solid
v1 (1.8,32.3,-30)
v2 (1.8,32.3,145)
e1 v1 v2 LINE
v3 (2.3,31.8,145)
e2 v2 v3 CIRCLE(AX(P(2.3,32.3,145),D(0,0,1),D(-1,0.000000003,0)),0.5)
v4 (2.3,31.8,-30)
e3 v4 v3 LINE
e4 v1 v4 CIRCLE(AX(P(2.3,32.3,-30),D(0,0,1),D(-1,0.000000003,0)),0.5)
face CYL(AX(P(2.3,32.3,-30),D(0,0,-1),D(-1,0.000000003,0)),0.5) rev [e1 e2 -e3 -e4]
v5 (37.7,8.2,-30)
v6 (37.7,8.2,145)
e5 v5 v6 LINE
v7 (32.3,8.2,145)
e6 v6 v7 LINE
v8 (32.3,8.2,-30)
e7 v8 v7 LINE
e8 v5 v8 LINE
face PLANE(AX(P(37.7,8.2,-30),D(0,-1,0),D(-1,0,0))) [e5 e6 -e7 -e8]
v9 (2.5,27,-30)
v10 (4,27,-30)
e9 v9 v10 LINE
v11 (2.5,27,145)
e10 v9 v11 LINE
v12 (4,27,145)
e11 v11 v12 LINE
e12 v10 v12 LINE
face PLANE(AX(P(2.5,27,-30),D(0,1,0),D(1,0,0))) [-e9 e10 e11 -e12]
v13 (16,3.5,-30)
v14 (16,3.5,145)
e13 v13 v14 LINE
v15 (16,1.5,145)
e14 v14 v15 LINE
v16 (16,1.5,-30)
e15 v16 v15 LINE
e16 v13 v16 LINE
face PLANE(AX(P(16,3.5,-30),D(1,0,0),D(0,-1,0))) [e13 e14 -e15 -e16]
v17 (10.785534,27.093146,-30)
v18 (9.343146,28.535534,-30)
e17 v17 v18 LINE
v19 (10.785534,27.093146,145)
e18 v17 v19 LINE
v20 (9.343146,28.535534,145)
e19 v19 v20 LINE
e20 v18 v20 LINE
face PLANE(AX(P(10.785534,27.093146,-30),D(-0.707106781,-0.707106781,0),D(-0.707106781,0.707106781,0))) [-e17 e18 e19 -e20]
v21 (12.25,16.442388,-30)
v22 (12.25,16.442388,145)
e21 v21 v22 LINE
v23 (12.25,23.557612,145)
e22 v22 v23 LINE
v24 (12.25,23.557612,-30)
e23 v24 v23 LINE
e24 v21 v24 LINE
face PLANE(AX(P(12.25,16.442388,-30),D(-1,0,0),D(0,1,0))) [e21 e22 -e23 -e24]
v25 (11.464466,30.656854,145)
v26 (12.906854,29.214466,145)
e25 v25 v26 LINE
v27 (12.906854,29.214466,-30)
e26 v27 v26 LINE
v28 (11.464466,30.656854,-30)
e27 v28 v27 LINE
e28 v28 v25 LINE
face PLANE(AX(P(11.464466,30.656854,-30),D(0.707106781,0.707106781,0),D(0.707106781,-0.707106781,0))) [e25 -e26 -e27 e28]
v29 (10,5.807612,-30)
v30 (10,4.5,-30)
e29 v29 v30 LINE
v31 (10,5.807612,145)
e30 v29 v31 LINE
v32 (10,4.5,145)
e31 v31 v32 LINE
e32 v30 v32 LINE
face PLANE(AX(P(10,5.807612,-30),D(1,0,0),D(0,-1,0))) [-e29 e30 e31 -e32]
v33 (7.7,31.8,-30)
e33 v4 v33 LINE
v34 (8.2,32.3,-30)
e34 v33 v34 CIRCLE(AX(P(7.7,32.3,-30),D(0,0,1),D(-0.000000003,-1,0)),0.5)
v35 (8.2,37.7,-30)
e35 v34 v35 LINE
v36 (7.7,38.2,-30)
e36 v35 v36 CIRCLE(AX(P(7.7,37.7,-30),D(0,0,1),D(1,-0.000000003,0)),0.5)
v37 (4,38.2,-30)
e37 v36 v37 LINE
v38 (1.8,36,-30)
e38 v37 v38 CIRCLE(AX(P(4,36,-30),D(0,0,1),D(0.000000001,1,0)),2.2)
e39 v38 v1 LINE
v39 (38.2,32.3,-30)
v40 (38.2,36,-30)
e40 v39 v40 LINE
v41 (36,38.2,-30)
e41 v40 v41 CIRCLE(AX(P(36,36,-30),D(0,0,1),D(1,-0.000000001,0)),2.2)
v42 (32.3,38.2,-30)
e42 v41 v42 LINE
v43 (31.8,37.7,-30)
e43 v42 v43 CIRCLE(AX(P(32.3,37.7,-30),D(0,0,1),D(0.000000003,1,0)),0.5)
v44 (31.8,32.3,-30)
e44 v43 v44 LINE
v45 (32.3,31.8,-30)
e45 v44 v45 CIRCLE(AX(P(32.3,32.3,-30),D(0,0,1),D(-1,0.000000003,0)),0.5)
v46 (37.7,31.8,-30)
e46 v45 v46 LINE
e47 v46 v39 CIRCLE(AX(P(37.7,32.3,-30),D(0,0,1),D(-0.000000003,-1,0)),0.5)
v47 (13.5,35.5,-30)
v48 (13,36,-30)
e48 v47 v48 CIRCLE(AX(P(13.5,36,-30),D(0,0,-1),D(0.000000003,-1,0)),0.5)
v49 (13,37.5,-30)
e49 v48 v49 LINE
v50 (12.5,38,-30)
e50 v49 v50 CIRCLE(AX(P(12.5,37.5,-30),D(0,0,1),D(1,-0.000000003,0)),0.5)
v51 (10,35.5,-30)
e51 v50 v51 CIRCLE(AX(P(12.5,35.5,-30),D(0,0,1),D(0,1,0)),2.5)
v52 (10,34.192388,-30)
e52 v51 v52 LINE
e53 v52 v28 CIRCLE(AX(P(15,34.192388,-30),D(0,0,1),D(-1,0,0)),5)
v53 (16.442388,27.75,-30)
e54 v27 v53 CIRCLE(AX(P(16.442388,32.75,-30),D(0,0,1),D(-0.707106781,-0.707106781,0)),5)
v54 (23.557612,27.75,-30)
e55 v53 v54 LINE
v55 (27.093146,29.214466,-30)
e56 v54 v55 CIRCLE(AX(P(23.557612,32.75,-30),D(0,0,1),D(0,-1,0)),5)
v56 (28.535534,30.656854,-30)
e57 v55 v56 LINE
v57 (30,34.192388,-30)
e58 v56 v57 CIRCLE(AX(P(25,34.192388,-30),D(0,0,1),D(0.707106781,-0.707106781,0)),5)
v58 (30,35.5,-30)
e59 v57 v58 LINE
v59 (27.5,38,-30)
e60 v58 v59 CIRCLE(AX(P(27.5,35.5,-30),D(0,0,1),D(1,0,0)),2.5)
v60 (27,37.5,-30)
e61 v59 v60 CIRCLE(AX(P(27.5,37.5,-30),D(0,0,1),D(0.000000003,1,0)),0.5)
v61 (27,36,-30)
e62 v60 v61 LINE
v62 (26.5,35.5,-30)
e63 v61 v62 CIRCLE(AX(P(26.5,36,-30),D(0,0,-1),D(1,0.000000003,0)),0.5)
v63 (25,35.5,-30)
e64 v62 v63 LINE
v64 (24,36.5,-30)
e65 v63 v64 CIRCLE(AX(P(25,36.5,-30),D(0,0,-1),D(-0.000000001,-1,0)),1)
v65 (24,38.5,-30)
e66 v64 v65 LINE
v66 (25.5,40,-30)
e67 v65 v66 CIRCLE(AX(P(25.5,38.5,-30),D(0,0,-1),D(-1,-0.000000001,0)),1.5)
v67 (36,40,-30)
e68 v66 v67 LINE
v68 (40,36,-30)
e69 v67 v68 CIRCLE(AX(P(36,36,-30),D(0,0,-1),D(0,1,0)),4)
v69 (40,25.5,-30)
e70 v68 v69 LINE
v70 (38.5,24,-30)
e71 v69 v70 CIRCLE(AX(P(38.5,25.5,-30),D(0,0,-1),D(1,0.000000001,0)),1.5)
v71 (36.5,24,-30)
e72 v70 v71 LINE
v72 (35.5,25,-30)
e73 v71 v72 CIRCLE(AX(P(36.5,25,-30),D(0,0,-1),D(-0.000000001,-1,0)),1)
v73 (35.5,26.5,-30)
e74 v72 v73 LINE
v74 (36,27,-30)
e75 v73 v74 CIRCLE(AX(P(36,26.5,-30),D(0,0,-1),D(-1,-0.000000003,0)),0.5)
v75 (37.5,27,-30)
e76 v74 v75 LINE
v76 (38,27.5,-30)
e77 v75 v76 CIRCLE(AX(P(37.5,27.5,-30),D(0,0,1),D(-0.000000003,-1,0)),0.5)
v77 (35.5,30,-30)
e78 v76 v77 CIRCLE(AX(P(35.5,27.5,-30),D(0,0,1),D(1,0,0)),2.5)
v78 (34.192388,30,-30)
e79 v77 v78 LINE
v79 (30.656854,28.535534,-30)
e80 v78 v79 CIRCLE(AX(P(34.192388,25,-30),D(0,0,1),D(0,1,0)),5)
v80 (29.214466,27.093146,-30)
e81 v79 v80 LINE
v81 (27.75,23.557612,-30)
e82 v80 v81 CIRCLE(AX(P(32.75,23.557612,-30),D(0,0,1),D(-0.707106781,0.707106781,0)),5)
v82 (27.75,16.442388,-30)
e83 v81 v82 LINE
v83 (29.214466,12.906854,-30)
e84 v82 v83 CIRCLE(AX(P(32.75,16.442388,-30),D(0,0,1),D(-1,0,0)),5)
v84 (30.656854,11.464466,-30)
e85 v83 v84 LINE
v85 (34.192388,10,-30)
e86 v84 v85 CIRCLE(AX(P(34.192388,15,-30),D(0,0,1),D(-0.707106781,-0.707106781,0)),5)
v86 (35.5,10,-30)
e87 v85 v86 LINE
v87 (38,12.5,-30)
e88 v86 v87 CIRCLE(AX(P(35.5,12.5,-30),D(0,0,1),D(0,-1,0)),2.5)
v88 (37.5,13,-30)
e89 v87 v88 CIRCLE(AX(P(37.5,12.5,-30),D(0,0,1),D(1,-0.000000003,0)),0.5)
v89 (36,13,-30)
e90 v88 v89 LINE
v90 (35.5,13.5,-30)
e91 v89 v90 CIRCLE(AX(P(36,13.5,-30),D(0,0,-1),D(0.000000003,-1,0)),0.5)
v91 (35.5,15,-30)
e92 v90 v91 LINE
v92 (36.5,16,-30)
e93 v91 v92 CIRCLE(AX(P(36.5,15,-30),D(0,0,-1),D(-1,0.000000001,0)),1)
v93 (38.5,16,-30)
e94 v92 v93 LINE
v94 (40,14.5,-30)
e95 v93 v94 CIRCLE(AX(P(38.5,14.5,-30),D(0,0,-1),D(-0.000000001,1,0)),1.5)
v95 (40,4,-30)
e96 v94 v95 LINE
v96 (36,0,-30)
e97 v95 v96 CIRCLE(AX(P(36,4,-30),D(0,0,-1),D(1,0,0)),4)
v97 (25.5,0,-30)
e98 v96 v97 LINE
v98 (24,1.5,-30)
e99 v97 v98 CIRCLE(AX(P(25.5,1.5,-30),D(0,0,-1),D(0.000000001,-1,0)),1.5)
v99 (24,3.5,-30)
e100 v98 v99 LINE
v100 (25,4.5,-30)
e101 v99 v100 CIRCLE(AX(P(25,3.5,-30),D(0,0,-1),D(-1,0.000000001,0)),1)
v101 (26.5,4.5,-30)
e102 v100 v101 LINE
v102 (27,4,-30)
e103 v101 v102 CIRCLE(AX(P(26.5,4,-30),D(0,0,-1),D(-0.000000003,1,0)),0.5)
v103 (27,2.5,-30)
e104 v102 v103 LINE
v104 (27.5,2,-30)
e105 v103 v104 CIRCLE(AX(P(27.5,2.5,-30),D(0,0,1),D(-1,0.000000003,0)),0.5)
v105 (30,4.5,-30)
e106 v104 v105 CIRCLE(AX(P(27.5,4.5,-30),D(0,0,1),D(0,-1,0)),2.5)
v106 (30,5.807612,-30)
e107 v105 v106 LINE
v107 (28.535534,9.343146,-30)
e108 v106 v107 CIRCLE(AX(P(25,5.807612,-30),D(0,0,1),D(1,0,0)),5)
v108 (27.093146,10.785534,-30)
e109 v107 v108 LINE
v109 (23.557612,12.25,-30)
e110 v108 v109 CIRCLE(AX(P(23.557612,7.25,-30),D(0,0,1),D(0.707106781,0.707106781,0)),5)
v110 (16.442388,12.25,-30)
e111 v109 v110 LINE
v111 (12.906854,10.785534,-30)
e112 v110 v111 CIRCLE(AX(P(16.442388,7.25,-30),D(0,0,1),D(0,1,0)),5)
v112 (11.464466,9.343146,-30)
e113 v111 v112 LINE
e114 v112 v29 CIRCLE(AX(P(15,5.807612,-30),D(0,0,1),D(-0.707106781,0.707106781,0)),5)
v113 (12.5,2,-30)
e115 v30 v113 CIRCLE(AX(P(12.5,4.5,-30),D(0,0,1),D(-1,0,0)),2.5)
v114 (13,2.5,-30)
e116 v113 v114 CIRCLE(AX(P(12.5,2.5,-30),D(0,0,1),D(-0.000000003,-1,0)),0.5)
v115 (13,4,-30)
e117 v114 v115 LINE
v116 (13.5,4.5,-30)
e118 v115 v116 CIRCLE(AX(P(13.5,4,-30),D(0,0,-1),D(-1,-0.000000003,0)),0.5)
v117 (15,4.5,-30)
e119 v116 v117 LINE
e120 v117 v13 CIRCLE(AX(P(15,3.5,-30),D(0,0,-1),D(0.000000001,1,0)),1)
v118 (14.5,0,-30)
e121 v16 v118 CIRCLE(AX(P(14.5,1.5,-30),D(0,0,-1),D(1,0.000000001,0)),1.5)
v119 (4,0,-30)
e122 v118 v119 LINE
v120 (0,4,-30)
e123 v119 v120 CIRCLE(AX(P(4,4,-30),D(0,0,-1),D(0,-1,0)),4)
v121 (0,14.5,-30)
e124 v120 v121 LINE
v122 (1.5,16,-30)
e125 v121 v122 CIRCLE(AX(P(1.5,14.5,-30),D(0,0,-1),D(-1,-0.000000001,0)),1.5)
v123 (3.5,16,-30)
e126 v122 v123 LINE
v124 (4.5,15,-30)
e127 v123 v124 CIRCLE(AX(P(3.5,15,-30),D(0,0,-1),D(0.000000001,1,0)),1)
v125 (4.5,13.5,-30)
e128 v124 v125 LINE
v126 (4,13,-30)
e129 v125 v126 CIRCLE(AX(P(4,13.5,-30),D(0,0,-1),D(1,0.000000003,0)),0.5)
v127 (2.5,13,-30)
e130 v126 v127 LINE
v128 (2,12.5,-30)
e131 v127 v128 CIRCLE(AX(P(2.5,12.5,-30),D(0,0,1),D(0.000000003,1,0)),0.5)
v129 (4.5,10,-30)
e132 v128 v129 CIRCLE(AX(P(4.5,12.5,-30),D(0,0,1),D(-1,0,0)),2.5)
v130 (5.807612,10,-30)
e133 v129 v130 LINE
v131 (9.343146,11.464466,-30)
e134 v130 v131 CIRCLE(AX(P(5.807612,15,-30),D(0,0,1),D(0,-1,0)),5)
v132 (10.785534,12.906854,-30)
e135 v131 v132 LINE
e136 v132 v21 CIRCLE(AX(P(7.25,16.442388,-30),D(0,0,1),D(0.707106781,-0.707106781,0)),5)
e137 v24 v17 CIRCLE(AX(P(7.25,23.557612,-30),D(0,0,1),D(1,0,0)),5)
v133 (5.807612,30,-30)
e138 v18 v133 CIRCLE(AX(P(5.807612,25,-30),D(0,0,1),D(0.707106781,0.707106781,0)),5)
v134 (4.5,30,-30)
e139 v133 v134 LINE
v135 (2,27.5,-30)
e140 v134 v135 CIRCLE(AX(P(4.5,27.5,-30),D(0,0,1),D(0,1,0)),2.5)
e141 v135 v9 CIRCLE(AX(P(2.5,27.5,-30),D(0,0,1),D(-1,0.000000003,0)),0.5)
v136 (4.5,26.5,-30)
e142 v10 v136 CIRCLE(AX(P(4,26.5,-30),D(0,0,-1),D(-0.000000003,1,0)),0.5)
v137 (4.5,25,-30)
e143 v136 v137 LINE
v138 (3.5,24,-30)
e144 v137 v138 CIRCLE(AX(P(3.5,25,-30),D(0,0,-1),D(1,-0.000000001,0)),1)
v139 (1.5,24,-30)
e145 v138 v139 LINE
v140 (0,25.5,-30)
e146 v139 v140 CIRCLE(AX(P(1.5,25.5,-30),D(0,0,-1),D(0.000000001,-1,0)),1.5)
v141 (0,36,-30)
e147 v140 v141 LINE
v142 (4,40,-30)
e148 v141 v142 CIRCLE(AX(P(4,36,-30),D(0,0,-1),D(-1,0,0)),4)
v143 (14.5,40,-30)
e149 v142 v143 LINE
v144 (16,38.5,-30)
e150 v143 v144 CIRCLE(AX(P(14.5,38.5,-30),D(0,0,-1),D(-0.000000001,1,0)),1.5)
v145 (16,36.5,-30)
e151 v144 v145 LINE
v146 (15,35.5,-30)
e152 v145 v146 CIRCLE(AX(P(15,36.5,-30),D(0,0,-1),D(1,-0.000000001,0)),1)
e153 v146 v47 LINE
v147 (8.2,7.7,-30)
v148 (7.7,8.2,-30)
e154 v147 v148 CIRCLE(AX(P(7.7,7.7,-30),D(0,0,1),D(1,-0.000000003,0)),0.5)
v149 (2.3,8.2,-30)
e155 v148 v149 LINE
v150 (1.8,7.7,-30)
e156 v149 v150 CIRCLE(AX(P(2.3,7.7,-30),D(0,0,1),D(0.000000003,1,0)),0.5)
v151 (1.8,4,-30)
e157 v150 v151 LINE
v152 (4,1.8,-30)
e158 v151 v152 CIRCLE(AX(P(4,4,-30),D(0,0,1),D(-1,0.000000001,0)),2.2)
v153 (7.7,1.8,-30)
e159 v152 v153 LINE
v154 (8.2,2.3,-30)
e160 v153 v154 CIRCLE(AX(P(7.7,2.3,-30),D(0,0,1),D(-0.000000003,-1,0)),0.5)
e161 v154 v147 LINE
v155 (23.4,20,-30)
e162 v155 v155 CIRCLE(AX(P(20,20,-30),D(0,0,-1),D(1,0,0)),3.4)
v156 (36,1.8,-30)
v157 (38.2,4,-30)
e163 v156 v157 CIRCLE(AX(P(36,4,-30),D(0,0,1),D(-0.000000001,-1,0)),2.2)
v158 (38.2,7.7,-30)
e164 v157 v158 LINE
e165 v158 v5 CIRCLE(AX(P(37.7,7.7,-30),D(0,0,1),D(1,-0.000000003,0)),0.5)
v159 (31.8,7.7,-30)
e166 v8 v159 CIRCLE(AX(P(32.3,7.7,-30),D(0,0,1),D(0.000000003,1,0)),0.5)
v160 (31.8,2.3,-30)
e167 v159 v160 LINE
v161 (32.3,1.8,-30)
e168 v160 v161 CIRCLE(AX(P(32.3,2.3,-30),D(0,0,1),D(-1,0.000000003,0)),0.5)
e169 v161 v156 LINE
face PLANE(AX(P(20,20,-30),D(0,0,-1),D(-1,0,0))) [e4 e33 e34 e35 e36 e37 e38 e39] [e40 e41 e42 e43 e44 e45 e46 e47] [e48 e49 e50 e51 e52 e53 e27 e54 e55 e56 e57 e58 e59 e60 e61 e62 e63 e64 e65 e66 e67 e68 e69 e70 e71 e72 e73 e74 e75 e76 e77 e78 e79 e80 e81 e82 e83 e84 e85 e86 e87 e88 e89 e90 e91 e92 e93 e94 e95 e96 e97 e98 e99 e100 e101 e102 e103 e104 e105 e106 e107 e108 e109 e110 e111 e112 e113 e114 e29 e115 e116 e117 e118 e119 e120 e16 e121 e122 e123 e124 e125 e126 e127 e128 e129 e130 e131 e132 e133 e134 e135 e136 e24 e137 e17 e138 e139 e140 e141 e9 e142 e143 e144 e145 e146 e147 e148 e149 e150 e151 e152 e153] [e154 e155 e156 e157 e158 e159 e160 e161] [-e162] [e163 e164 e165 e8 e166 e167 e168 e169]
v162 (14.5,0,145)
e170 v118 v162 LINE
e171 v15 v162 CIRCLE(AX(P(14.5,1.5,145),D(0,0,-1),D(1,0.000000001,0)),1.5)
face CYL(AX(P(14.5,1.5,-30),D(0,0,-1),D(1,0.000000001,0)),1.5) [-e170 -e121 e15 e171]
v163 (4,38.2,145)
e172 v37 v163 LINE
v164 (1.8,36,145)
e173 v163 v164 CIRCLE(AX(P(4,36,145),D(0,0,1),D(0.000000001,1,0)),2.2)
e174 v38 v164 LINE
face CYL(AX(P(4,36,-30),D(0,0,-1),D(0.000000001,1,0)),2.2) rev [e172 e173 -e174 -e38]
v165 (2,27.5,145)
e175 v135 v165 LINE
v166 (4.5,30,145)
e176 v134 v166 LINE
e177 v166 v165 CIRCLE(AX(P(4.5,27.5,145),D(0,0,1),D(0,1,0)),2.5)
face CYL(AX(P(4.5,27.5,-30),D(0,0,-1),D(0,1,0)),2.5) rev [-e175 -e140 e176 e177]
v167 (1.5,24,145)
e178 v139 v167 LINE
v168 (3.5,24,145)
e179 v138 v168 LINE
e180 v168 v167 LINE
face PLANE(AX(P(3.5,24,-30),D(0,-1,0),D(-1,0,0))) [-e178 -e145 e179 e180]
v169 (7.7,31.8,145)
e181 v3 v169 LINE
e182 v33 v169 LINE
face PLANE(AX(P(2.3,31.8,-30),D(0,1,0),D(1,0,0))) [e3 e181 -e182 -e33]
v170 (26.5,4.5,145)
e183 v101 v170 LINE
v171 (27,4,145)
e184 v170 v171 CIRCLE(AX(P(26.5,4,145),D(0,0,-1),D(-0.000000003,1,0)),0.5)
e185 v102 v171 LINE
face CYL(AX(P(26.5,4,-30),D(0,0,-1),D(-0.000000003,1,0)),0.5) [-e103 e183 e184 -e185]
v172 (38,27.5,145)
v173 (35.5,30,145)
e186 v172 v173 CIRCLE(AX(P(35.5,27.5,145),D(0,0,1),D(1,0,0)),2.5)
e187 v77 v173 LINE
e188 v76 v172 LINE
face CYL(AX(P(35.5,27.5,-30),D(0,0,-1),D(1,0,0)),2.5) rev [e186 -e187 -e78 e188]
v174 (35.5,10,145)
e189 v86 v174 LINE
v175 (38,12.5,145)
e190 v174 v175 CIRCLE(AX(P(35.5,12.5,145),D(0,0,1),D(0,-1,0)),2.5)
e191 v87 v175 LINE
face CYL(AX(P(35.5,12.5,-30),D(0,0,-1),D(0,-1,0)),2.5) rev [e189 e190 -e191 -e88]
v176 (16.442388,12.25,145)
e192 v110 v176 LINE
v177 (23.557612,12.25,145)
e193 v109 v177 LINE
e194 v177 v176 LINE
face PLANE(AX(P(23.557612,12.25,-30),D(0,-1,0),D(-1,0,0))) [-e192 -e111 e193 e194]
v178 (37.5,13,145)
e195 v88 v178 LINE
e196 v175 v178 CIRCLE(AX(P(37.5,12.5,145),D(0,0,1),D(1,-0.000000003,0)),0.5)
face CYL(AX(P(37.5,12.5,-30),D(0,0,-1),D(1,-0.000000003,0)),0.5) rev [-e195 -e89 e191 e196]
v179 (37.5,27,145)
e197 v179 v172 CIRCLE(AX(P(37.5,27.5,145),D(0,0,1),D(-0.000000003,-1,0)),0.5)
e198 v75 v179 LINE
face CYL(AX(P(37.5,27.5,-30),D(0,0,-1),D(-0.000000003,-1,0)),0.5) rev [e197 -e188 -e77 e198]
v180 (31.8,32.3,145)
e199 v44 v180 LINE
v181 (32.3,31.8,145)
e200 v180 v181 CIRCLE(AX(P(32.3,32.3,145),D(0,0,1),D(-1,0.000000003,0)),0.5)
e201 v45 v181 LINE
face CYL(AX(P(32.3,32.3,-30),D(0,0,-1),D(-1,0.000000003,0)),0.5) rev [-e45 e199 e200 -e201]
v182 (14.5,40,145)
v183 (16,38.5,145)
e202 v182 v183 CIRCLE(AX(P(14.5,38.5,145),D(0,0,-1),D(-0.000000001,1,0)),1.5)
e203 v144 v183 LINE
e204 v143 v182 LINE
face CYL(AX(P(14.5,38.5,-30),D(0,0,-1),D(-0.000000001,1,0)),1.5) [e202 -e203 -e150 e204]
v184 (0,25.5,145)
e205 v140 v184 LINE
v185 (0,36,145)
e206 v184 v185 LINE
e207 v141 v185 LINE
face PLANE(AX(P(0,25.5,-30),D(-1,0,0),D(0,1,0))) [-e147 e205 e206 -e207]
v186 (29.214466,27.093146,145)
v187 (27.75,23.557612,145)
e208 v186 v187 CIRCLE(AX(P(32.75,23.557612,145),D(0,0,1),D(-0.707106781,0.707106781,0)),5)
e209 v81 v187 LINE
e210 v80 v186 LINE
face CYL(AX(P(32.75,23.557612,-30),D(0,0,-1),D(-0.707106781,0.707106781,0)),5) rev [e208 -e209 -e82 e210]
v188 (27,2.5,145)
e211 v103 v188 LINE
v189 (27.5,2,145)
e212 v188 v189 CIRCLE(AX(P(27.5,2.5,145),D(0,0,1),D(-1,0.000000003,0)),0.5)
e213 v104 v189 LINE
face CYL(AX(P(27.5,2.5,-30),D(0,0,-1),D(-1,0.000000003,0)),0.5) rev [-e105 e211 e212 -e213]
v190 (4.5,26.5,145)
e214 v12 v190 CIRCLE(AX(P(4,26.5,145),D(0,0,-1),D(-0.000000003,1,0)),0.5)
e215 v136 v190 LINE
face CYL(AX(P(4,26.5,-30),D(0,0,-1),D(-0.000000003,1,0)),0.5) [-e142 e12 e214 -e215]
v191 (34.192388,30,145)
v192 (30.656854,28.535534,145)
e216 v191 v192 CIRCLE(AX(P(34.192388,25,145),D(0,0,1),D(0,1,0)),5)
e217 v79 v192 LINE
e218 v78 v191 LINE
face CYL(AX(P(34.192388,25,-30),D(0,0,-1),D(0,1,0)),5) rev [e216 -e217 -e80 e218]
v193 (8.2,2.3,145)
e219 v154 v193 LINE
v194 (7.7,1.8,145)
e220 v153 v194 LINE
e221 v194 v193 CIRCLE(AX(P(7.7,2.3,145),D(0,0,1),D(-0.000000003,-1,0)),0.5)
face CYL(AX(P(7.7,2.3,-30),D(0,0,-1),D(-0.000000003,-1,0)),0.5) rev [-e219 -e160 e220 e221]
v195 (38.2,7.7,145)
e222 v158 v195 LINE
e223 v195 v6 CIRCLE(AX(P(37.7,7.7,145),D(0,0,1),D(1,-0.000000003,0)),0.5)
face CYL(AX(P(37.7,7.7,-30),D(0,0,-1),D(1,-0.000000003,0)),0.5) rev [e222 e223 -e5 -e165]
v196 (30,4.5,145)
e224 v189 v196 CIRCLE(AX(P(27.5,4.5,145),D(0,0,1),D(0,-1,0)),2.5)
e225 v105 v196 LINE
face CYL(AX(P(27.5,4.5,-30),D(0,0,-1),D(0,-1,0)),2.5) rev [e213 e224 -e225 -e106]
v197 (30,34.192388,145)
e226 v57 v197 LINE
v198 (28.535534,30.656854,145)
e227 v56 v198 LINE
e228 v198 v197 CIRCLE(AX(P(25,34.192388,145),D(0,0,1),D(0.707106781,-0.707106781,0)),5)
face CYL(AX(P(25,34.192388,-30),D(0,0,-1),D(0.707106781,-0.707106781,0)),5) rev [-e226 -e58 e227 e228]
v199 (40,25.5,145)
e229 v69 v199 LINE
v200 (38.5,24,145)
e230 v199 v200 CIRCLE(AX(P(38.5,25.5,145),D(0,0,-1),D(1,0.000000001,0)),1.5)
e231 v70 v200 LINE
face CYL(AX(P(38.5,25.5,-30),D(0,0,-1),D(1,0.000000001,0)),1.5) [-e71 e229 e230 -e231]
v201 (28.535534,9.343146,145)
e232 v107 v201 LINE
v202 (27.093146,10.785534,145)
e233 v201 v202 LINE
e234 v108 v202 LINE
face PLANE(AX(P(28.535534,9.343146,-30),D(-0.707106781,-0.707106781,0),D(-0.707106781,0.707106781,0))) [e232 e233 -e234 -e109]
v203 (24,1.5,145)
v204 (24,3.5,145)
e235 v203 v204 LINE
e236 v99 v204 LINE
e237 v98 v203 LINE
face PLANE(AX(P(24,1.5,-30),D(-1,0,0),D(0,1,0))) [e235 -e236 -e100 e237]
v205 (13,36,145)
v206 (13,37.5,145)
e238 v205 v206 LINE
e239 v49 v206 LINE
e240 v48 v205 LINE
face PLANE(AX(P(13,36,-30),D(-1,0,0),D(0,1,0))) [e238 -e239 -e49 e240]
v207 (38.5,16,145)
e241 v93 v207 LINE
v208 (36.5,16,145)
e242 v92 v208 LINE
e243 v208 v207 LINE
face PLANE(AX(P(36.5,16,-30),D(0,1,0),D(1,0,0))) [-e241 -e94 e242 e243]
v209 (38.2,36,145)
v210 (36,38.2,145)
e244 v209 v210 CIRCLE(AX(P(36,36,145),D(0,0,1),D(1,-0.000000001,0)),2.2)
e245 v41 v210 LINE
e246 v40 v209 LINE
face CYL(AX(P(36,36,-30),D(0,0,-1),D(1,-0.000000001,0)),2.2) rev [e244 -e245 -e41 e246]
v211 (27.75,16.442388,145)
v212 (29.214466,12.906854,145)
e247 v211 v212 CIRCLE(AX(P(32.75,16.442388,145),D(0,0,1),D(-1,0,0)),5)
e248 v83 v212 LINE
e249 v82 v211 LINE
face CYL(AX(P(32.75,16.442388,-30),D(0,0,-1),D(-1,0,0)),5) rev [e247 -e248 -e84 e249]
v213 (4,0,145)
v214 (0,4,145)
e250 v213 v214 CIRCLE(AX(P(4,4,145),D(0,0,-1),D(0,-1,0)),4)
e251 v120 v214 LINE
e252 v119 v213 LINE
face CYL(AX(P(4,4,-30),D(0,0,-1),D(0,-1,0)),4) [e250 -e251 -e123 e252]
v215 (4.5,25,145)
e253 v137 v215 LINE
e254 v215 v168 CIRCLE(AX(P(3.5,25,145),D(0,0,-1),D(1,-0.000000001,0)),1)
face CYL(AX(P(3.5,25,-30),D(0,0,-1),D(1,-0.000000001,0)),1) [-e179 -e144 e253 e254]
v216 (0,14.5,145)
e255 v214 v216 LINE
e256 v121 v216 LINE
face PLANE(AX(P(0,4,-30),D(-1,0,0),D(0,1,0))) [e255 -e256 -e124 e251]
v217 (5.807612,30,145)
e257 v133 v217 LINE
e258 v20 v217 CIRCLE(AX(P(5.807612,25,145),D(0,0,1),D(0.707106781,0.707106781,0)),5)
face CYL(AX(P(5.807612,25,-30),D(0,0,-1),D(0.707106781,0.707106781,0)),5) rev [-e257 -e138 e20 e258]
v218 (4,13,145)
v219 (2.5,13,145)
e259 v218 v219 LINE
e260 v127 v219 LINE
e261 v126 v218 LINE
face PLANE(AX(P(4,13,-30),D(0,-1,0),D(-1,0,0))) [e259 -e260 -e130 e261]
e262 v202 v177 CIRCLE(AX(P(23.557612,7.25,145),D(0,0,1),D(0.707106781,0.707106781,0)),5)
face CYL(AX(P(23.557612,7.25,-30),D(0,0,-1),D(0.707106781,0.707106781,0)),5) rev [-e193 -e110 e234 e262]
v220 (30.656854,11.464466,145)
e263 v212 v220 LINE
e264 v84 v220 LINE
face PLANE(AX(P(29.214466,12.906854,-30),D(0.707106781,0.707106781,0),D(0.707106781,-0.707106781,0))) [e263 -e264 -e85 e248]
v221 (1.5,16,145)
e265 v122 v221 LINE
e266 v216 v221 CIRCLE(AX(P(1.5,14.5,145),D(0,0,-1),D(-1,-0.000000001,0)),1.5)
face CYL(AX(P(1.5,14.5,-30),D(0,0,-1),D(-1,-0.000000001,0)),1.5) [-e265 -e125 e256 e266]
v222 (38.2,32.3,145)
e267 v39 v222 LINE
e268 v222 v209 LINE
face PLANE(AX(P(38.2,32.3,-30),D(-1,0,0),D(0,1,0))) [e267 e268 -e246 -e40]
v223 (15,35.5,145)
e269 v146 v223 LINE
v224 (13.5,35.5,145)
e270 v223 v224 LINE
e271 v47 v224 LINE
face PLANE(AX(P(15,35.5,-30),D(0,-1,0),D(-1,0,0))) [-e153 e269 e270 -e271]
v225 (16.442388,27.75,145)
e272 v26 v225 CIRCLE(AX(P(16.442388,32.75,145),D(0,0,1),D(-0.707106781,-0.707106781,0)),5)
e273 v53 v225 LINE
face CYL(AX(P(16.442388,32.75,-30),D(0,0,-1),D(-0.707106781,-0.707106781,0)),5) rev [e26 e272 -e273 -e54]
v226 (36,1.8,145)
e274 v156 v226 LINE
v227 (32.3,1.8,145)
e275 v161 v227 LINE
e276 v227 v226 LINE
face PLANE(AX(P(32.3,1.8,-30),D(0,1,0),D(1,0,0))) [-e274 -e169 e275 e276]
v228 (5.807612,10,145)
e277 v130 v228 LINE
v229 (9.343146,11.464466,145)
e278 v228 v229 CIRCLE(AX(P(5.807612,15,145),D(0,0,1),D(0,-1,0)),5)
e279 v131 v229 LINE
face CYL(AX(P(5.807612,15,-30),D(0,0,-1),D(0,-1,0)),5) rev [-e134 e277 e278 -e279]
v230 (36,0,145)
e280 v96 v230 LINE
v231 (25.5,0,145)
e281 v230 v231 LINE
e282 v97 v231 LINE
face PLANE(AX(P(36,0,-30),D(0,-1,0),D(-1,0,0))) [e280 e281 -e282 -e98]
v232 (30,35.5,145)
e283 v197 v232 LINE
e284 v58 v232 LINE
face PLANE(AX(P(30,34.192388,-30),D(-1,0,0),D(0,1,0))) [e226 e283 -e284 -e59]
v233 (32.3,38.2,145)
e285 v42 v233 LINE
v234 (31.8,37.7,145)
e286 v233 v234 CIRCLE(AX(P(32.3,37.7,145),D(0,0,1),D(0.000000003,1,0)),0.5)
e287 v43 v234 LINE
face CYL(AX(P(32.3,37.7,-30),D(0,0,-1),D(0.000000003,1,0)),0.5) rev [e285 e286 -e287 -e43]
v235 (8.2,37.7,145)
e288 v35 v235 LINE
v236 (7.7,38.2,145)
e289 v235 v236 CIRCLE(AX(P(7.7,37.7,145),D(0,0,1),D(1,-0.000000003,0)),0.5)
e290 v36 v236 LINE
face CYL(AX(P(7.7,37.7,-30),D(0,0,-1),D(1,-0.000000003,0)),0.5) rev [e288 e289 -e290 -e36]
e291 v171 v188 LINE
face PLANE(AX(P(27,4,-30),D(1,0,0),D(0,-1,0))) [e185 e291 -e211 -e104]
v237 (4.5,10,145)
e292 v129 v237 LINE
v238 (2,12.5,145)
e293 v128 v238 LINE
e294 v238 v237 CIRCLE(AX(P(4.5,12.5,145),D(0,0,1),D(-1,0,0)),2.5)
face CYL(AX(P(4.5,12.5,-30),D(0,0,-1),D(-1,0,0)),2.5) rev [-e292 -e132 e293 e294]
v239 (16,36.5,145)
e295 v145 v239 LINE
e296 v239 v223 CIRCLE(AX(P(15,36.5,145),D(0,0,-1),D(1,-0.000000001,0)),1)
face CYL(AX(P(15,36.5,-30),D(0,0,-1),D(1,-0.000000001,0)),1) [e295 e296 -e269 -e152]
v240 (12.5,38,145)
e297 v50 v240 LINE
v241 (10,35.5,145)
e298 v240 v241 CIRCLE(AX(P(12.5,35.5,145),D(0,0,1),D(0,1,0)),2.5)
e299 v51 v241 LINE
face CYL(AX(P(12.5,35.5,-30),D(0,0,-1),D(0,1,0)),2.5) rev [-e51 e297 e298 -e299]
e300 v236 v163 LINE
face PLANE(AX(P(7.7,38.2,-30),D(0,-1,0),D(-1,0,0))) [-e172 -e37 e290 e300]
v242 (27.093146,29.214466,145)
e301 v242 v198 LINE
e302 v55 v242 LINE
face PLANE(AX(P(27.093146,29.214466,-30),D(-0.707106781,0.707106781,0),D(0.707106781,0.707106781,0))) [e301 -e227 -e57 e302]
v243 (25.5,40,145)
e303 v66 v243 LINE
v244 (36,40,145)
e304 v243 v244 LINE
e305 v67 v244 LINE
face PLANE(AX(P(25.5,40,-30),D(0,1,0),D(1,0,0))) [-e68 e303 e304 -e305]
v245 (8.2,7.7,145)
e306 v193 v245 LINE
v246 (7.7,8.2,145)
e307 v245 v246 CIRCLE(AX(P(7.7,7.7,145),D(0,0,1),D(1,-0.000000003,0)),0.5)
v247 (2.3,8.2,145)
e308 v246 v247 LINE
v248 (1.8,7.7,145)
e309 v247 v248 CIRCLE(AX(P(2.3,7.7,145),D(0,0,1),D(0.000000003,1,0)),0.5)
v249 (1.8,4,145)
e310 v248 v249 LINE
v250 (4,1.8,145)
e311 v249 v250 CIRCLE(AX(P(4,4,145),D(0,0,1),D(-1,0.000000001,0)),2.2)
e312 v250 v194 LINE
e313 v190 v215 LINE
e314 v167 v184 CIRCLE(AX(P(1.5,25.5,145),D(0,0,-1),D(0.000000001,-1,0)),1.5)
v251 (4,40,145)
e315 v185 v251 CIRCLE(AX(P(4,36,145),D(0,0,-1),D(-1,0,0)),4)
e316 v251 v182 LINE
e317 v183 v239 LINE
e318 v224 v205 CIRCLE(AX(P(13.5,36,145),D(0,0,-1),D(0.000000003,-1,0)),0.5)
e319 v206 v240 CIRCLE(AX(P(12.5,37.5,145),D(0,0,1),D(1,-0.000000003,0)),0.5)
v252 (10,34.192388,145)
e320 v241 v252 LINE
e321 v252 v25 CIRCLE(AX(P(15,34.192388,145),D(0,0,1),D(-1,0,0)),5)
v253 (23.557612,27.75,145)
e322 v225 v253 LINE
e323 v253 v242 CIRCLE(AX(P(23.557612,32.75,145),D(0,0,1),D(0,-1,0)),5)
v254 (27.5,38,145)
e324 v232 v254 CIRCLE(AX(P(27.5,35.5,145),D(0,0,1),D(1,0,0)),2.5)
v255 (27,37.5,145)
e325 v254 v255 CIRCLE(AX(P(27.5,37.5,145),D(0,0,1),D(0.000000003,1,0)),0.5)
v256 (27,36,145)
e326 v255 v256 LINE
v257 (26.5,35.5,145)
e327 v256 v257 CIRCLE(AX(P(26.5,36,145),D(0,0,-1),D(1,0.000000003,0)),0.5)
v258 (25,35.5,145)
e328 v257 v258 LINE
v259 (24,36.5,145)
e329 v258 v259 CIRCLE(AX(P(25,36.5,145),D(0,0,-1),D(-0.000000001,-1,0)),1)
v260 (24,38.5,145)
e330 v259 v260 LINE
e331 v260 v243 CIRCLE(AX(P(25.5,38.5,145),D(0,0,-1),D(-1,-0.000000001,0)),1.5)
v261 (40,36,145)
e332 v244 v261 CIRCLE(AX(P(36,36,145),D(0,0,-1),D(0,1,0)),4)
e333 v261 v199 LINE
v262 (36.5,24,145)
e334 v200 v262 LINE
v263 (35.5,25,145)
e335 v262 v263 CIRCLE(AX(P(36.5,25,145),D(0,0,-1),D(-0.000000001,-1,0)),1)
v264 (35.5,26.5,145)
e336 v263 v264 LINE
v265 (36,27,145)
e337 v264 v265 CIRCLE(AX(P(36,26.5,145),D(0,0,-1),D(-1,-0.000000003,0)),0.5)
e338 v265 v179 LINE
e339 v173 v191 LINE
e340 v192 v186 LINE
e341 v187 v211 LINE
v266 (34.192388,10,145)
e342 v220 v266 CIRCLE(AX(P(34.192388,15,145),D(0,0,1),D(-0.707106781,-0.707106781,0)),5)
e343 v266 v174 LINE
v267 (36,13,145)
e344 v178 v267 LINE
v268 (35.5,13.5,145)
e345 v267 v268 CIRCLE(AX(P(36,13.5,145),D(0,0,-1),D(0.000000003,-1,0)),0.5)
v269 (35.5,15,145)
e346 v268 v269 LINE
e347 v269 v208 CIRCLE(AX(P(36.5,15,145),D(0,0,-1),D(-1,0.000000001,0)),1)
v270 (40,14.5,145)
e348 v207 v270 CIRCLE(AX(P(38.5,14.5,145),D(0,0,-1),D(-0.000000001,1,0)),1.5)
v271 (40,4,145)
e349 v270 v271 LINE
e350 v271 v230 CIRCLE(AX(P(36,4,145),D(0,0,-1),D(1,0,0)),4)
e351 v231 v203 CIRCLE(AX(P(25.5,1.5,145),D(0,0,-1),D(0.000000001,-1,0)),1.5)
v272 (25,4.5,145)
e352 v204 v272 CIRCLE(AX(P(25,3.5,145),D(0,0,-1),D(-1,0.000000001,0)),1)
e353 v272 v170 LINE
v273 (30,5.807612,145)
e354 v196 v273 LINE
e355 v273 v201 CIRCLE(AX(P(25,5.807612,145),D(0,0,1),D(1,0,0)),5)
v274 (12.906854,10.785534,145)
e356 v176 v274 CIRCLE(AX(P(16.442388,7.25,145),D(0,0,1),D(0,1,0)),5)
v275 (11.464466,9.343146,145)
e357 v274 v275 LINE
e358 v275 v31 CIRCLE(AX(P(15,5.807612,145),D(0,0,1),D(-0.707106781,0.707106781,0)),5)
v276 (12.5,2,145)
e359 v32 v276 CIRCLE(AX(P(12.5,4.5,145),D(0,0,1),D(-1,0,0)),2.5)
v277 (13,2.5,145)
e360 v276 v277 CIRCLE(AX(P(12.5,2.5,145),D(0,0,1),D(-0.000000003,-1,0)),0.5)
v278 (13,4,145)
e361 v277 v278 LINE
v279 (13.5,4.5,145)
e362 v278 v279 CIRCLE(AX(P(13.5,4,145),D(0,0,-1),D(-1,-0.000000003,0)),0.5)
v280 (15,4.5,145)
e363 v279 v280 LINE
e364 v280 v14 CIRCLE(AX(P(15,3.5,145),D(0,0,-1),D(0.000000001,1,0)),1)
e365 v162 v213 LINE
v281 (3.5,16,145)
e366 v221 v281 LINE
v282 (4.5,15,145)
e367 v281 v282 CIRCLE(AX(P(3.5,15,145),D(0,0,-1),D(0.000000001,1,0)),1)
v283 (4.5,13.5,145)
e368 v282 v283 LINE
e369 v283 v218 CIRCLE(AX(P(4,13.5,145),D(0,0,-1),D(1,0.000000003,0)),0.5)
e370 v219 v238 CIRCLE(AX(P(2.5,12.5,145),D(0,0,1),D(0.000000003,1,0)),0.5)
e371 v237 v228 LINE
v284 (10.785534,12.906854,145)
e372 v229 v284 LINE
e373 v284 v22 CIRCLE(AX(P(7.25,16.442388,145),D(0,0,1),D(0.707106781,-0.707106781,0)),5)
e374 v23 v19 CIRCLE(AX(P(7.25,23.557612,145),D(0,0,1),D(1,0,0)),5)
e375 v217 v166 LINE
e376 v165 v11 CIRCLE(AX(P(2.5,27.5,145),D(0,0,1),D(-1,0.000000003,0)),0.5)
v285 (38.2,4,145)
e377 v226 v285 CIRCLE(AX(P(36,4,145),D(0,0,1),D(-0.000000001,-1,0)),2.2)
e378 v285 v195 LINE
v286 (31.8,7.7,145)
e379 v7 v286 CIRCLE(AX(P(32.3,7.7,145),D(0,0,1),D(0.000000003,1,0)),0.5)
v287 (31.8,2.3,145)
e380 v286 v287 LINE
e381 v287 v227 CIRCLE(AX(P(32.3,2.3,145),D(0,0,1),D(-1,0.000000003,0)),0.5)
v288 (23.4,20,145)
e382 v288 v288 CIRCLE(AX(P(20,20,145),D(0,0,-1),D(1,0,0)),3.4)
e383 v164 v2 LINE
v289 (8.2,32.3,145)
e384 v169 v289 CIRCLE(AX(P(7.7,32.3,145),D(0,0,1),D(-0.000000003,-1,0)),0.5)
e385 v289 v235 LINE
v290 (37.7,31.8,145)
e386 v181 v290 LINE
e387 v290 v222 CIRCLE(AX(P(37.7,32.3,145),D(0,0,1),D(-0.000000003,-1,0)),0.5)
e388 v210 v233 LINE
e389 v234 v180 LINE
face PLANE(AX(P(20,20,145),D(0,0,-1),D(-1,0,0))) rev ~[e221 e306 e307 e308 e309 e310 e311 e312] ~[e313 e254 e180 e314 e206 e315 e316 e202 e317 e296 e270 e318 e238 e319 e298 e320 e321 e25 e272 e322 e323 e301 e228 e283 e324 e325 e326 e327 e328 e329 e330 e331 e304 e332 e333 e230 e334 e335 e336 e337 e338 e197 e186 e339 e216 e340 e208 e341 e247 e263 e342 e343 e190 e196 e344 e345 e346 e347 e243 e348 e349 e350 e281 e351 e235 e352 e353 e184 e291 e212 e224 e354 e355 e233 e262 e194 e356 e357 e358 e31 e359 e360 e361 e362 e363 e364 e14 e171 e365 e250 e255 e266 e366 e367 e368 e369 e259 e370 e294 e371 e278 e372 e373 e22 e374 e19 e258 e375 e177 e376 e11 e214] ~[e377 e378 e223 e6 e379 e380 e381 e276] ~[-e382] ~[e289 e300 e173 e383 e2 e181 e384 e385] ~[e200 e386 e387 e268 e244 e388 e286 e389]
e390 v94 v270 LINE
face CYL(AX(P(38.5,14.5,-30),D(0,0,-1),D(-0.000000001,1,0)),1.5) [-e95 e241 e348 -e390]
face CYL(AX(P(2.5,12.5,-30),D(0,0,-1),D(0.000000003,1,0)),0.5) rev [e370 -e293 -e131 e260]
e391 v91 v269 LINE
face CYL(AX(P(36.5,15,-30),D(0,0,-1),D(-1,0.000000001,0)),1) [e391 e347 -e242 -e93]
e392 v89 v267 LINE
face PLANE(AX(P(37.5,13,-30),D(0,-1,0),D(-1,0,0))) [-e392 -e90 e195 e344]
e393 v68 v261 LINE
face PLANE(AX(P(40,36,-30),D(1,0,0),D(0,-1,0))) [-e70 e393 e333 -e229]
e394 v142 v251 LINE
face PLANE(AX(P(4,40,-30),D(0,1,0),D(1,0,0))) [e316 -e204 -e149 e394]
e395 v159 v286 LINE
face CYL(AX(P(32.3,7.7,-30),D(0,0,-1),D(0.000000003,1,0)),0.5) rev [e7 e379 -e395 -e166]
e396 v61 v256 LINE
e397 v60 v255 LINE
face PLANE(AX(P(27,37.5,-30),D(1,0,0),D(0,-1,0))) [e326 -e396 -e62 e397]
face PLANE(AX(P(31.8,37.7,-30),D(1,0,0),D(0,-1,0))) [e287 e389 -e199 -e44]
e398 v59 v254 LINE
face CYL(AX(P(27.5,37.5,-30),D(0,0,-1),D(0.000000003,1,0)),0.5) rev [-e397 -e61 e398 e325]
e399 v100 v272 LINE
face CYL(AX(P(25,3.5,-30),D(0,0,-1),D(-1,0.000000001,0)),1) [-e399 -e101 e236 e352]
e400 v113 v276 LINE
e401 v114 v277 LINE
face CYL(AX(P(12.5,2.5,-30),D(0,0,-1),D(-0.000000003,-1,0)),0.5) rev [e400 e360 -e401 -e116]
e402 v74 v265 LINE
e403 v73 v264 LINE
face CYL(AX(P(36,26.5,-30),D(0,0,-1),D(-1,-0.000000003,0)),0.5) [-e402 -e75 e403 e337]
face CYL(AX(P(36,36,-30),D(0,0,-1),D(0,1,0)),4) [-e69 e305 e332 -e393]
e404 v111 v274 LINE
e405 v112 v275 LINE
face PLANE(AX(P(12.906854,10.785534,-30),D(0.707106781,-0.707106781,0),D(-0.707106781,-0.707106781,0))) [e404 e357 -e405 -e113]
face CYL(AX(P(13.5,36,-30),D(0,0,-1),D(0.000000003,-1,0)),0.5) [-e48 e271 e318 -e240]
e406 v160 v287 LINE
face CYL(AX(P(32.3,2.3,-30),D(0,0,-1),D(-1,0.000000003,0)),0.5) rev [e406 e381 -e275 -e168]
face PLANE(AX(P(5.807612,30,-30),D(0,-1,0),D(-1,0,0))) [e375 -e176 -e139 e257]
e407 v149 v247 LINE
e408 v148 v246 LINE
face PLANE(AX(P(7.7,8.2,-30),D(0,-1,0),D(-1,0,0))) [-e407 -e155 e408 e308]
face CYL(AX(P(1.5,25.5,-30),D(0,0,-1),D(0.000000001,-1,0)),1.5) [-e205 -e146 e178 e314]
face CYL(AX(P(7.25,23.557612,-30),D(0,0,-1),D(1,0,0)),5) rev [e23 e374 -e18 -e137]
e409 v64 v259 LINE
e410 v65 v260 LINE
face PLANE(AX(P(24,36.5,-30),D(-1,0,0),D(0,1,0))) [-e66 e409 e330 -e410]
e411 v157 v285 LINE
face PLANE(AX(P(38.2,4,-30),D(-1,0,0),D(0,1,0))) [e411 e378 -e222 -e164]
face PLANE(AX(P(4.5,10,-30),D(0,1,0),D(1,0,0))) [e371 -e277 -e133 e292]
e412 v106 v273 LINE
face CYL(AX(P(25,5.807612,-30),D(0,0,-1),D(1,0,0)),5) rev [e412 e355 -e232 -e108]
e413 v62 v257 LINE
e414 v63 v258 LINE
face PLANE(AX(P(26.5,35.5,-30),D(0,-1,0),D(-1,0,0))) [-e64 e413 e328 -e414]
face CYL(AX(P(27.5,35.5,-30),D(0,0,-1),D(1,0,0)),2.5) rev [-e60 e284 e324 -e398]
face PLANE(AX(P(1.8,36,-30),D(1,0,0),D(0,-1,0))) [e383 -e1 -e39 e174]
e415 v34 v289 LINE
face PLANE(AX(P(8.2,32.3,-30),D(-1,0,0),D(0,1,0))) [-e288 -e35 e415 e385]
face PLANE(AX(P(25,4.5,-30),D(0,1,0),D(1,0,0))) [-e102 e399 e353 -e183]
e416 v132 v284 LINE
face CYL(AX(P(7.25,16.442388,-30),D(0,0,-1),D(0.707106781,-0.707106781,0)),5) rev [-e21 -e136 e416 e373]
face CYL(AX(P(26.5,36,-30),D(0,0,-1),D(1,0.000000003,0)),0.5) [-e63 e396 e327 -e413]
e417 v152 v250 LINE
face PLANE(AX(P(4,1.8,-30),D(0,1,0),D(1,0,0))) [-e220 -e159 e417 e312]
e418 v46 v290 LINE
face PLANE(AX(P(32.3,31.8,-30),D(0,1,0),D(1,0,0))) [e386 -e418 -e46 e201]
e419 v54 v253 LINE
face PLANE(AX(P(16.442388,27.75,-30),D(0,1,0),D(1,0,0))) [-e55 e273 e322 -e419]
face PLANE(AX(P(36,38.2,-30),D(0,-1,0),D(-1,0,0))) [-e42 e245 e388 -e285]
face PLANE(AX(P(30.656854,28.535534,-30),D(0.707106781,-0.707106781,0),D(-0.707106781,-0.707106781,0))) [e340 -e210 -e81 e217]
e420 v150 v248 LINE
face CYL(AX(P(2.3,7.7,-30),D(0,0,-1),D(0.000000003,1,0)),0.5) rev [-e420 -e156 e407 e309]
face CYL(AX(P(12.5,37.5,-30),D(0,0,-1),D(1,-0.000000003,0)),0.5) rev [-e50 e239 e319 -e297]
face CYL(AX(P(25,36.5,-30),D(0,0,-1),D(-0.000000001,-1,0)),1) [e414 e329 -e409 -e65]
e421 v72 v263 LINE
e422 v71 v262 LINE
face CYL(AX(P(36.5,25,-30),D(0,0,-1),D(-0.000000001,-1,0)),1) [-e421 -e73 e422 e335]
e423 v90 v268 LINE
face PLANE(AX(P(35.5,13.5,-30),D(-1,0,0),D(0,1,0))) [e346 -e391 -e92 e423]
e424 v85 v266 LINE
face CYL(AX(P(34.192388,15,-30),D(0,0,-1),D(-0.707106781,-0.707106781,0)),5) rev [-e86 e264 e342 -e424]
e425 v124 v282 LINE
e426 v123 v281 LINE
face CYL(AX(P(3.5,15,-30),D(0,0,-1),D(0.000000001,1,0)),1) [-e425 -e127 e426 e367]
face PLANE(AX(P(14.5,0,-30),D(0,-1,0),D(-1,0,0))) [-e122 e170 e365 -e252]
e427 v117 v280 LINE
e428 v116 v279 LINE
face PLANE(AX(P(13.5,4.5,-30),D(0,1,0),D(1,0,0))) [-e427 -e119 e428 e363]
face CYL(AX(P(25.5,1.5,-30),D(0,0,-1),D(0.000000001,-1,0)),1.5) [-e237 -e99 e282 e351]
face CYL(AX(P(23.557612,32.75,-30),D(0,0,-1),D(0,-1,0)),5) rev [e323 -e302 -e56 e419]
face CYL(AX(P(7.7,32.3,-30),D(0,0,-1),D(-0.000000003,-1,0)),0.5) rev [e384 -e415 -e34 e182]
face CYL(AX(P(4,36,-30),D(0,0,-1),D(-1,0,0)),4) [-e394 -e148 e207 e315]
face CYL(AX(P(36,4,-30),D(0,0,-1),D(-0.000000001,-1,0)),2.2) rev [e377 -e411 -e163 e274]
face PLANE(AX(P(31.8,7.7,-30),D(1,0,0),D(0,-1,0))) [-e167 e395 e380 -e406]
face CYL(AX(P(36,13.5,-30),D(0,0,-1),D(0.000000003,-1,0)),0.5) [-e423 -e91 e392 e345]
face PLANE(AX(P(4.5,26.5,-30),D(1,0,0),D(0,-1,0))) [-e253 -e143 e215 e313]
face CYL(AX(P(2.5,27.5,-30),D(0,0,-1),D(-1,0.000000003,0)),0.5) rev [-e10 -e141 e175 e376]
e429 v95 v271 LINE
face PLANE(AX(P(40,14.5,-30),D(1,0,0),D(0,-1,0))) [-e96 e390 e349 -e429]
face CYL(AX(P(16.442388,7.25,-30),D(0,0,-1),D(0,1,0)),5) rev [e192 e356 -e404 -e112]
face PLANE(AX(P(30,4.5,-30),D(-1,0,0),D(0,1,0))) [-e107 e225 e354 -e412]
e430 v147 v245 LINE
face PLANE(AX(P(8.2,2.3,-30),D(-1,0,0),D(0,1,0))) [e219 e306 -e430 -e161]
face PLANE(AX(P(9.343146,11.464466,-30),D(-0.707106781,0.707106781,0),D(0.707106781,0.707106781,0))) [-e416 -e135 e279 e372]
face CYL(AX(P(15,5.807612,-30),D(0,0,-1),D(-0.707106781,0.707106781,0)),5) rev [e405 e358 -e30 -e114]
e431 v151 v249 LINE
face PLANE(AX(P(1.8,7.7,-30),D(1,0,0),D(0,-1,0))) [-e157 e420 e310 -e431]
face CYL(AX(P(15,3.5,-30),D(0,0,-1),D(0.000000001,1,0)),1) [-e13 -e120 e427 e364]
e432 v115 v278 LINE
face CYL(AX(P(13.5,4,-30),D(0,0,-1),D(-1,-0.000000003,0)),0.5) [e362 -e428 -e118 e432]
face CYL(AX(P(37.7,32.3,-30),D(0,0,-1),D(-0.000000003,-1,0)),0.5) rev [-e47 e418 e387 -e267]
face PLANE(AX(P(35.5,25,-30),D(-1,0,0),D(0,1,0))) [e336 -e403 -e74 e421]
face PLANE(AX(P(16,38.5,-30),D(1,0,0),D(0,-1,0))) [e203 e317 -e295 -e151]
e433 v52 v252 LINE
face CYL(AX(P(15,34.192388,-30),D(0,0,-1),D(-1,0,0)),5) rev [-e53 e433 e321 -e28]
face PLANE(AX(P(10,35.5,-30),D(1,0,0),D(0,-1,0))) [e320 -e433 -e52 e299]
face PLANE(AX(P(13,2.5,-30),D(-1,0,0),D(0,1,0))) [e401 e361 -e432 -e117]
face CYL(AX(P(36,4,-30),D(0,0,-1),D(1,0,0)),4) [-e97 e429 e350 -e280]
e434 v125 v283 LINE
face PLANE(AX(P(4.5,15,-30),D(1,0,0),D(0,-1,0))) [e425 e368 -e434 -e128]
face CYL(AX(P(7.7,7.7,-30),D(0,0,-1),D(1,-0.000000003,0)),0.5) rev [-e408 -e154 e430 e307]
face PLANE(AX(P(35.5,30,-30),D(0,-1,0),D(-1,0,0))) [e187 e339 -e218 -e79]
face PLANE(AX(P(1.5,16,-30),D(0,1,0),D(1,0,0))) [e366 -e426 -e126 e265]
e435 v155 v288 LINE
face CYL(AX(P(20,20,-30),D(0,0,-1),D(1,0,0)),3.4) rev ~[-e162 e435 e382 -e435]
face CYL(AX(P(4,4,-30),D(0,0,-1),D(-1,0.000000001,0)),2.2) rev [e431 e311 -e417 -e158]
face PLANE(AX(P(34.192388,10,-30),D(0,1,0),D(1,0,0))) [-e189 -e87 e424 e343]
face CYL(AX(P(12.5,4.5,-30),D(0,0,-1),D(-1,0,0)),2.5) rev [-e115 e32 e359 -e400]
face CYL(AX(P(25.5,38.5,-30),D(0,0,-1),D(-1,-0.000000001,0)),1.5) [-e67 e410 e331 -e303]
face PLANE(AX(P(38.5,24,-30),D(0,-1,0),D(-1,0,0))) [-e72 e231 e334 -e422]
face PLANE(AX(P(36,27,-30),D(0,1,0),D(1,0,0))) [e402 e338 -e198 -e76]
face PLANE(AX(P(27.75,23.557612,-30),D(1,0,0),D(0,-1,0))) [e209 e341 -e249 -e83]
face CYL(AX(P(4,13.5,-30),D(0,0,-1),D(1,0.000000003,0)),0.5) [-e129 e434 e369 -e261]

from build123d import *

# Parameters (mm, degrees)
ESQUISSE1_R        = 3.4
BOSS_EXTRU_1_DEPTH = 175


with BuildPart() as part:
    # Esquisse1 → Boss.-Extru.1 (new body)
    with BuildSketch(Plane(origin=(0, 0, -30), x_dir=(-1, 0, 0), z_dir=(0, 0, -1))):
        with BuildLine():
            Line((-4.5, 15), (-4.5, 13.5))
            ThreePointArc((-4.5, 13.5), (-4.353553391, 13.146446609), (-4, 13))
            Line((-4, 13), (-2.5, 13))
            ThreePointArc((-2.5, 13), (-2.146446609, 12.853553391), (-2, 12.5))
            ThreePointArc((-2, 12.5), (-2.732233047, 10.732233047), (-4.5, 10))
            Line((-4.5, 10), (-5.807611845, 10))
            ThreePointArc((-5.807611845, 10), (-7.721029006, 10.380602337), (-9.343145751, 11.464466094))
            Line((-9.343145751, 11.464466094), (-10.785533906, 12.906854249))
            ThreePointArc((-10.785533906, 12.906854249), (-11.869397663, 14.528970994), (-12.25, 16.442388155))
            Line((-12.25, 16.442388155), (-12.25, 23.557611845))
            ThreePointArc((-12.25, 23.557611845), (-11.869397663, 25.471029006), (-10.785533906, 27.093145751))
            Line((-10.785533906, 27.093145751), (-9.343145751, 28.535533906))
            ThreePointArc((-9.343145751, 28.535533906), (-7.721029006, 29.619397663), (-5.807611845, 30))
            Line((-5.807611845, 30), (-4.5, 30))
            ThreePointArc((-4.5, 30), (-2.732233047, 29.267766953), (-2, 27.5))
            ThreePointArc((-2, 27.5), (-2.146446609, 27.146446609), (-2.5, 27))
            Line((-2.5, 27), (-4, 27))
            ThreePointArc((-4, 27), (-4.353553391, 26.853553391), (-4.5, 26.5))
            Line((-4.5, 26.5), (-4.5, 25))
            ThreePointArc((-4.5, 25), (-4.207106781, 24.292893219), (-3.5, 24))
            Line((-3.5, 24), (-1.5, 24))
            ThreePointArc((-1.5, 24), (-0.439339828, 24.439339828), (0, 25.5))
            Line((0, 25.5), (0, 36))
            ThreePointArc((0, 36), (-1.171572875, 38.828427125), (-4, 40))
            Line((-4, 40), (-14.5, 40))
            ThreePointArc((-14.5, 40), (-15.560660172, 39.560660172), (-16, 38.5))
            Line((-16, 38.5), (-16, 36.5))
            ThreePointArc((-16, 36.5), (-15.707106781, 35.792893219), (-15, 35.5))
            Line((-15, 35.5), (-13.5, 35.5))
            ThreePointArc((-13.5, 35.5), (-13.146446609, 35.646446609), (-13, 36))
            Line((-13, 36), (-13, 37.5))
            ThreePointArc((-13, 37.5), (-12.853553391, 37.853553391), (-12.5, 38))
            ThreePointArc((-12.5, 38), (-10.732233047, 37.267766953), (-10, 35.5))
            Line((-10, 35.5), (-10, 34.192388155))
            ThreePointArc((-10, 34.192388155), (-10.380602337, 32.278970994), (-11.464466094, 30.656854249))
            Line((-11.464466094, 30.656854249), (-12.906854249, 29.214466094))
            ThreePointArc((-12.906854249, 29.214466094), (-14.528970994, 28.130602337), (-16.442388155, 27.75))
            Line((-16.442388155, 27.75), (-23.557611845, 27.75))
            ThreePointArc((-23.557611845, 27.75), (-25.471029006, 28.130602337), (-27.093145751, 29.214466094))
            Line((-27.093145751, 29.214466094), (-28.535533906, 30.656854249))
            ThreePointArc((-28.535533906, 30.656854249), (-29.619397663, 32.278970994), (-30, 34.192388155))
            Line((-30, 34.192388155), (-30, 35.5))
            ThreePointArc((-30, 35.5), (-29.267766953, 37.267766953), (-27.5, 38))
            ThreePointArc((-27.5, 38), (-27.146446609, 37.853553391), (-27, 37.5))
            Line((-27, 37.5), (-27, 36))
            ThreePointArc((-27, 36), (-26.853553391, 35.646446609), (-26.5, 35.5))
            Line((-26.5, 35.5), (-25, 35.5))
            ThreePointArc((-25, 35.5), (-24.292893219, 35.792893219), (-24, 36.5))
            Line((-24, 36.5), (-24, 38.5))
            ThreePointArc((-24, 38.5), (-24.439339828, 39.560660172), (-25.5, 40))
            Line((-25.5, 40), (-36, 40))
            ThreePointArc((-36, 40), (-38.828427125, 38.828427125), (-40, 36))
            Line((-40, 36), (-40, 25.5))
            ThreePointArc((-40, 25.5), (-39.560660172, 24.439339828), (-38.5, 24))
            Line((-38.5, 24), (-36.5, 24))
            ThreePointArc((-36.5, 24), (-35.792893219, 24.292893219), (-35.5, 25))
            Line((-35.5, 25), (-35.5, 26.5))
            ThreePointArc((-35.5, 26.5), (-35.646446609, 26.853553391), (-36, 27))
            Line((-36, 27), (-37.5, 27))
            ThreePointArc((-37.5, 27), (-37.853553391, 27.146446609), (-38, 27.5))
            ThreePointArc((-38, 27.5), (-37.267766953, 29.267766953), (-35.5, 30))
            Line((-35.5, 30), (-34.192388155, 30))
            ThreePointArc((-34.192388155, 30), (-32.278970994, 29.619397663), (-30.656854249, 28.535533906))
            Line((-30.656854249, 28.535533906), (-29.214466094, 27.093145751))
            ThreePointArc((-29.214466094, 27.093145751), (-28.130602337, 25.471029006), (-27.75, 23.557611845))
            Line((-27.75, 23.557611845), (-27.75, 16.442388155))
            ThreePointArc((-27.75, 16.442388155), (-28.130602337, 14.528970994), (-29.214466094, 12.906854249))
            Line((-29.214466094, 12.906854249), (-30.656854249, 11.464466094))
            ThreePointArc((-30.656854249, 11.464466094), (-32.278970994, 10.380602337), (-34.192388155, 10))
            Line((-34.192388155, 10), (-35.5, 10))
            ThreePointArc((-35.5, 10), (-37.267766953, 10.732233047), (-38, 12.5))
            ThreePointArc((-38, 12.5), (-37.853553391, 12.853553391), (-37.5, 13))
            Line((-37.5, 13), (-36, 13))
            ThreePointArc((-36, 13), (-35.646446609, 13.146446609), (-35.5, 13.5))
            Line((-35.5, 13.5), (-35.5, 15))
            ThreePointArc((-35.5, 15), (-35.792893219, 15.707106781), (-36.5, 16))
            Line((-36.5, 16), (-38.5, 16))
            ThreePointArc((-38.5, 16), (-39.560660172, 15.560660172), (-40, 14.5))
            Line((-40, 14.5), (-40, 4))
            ThreePointArc((-40, 4), (-38.828427125, 1.171572875), (-36, 0))
            Line((-36, 0), (-25.5, 0))
            ThreePointArc((-25.5, 0), (-24.439339828, 0.439339828), (-24, 1.5))
            Line((-24, 1.5), (-24, 3.5))
            ThreePointArc((-24, 3.5), (-24.292893219, 4.207106781), (-25, 4.5))
            Line((-25, 4.5), (-26.5, 4.5))
            ThreePointArc((-26.5, 4.5), (-26.853553391, 4.353553391), (-27, 4))
            Line((-27, 4), (-27, 2.5))
            ThreePointArc((-27, 2.5), (-27.146446609, 2.146446609), (-27.5, 2))
            ThreePointArc((-27.5, 2), (-29.267766953, 2.732233047), (-30, 4.5))
            Line((-30, 4.5), (-30, 5.807611845))
            ThreePointArc((-30, 5.807611845), (-29.619397663, 7.721029006), (-28.535533906, 9.343145751))
            Line((-28.535533906, 9.343145751), (-27.093145751, 10.785533906))
            ThreePointArc((-27.093145751, 10.785533906), (-25.471029006, 11.869397663), (-23.557611845, 12.25))
            Line((-23.557611845, 12.25), (-16.442388155, 12.25))
            ThreePointArc((-16.442388155, 12.25), (-14.528970994, 11.869397663), (-12.906854249, 10.785533906))
            Line((-12.906854249, 10.785533906), (-11.464466094, 9.343145751))
            ThreePointArc((-11.464466094, 9.343145751), (-10.380602337, 7.721029006), (-10, 5.807611845))
            Line((-10, 5.807611845), (-10, 4.5))
            ThreePointArc((-10, 4.5), (-10.732233047, 2.732233047), (-12.5, 2))
            ThreePointArc((-12.5, 2), (-12.853553391, 2.146446609), (-13, 2.5))
            Line((-13, 2.5), (-13, 4))
            ThreePointArc((-13, 4), (-13.146446609, 4.353553391), (-13.5, 4.5))
            Line((-13.5, 4.5), (-15, 4.5))
            ThreePointArc((-15, 4.5), (-15.707106781, 4.207106781), (-16, 3.5))
            Line((-16, 3.5), (-16, 1.5))
            ThreePointArc((-16, 1.5), (-15.560660172, 0.439339828), (-14.5, 0))
            Line((-14.5, 0), (-4, 0))
            ThreePointArc((-4, 0), (-1.171572875, 1.171572875), (0, 4))
            Line((0, 4), (0, 14.5))
            ThreePointArc((0, 14.5), (-0.439339828, 15.560660172), (-1.5, 16))
            Line((-1.5, 16), (-3.5, 16))
            ThreePointArc((-3.5, 16), (-4.207106781, 15.707106781), (-4.5, 15))
        make_face()
        with Locations(Location((-20, 20, 0), (0, 0, 180))):
            Circle(ESQUISSE1_R, mode=Mode.SUBTRACT)
        with BuildLine():
            Line((-4, 1.8), (-7.7, 1.8))
            ThreePointArc((-7.7, 1.8), (-8.053553391, 1.946446609), (-8.2, 2.3))
            Line((-8.2, 2.3), (-8.2, 7.7))
            ThreePointArc((-8.2, 7.7), (-8.053553391, 8.053553391), (-7.7, 8.2))
            Line((-7.7, 8.2), (-2.3, 8.2))
            ThreePointArc((-2.3, 8.2), (-1.946446609, 8.053553391), (-1.8, 7.7))
            Line((-1.8, 7.7), (-1.8, 4))
            ThreePointArc((-1.8, 4), (-2.444365081, 2.444365081), (-4, 1.8))
        make_face(mode=Mode.SUBTRACT)
        with BuildLine():
            Line((-38.2, 4), (-38.2, 7.7))
            ThreePointArc((-38.2, 7.7), (-38.053553391, 8.053553391), (-37.7, 8.2))
            Line((-37.7, 8.2), (-32.3, 8.2))
            ThreePointArc((-32.3, 8.2), (-31.946446609, 8.053553391), (-31.8, 7.7))
            Line((-31.8, 7.7), (-31.8, 2.3))
            ThreePointArc((-31.8, 2.3), (-31.946446609, 1.946446609), (-32.3, 1.8))
            Line((-32.3, 1.8), (-36, 1.8))
            ThreePointArc((-36, 1.8), (-37.555634919, 2.444365081), (-38.2, 4))
        make_face(mode=Mode.SUBTRACT)
        with BuildLine():
            Line((-36, 38.2), (-32.3, 38.2))
            ThreePointArc((-32.3, 38.2), (-31.946446609, 38.053553391), (-31.8, 37.7))
            Line((-31.8, 37.7), (-31.8, 32.3))
            ThreePointArc((-31.8, 32.3), (-31.946446609, 31.946446609), (-32.3, 31.8))
            Line((-32.3, 31.8), (-37.7, 31.8))
            ThreePointArc((-37.7, 31.8), (-38.053553391, 31.946446609), (-38.2, 32.3))
            Line((-38.2, 32.3), (-38.2, 36))
            ThreePointArc((-38.2, 36), (-37.555634919, 37.555634919), (-36, 38.2))
        make_face(mode=Mode.SUBTRACT)
        with BuildLine():
            Line((-1.8, 36), (-1.8, 32.3))
            ThreePointArc((-1.8, 32.3), (-1.946446609, 31.946446609), (-2.3, 31.8))
            Line((-2.3, 31.8), (-7.7, 31.8))
            ThreePointArc((-7.7, 31.8), (-8.053553391, 31.946446609), (-8.2, 32.3))
            Line((-8.2, 32.3), (-8.2, 37.7))
            ThreePointArc((-8.2, 37.7), (-8.053553391, 38.053553391), (-7.7, 38.2))
            Line((-7.7, 38.2), (-4, 38.2))
            ThreePointArc((-4, 38.2), (-2.444365081, 37.555634919), (-1.8, 36))
        make_face(mode=Mode.SUBTRACT)
    extrude(amount=-BOSS_EXTRU_1_DEPTH)


solid = part.part
